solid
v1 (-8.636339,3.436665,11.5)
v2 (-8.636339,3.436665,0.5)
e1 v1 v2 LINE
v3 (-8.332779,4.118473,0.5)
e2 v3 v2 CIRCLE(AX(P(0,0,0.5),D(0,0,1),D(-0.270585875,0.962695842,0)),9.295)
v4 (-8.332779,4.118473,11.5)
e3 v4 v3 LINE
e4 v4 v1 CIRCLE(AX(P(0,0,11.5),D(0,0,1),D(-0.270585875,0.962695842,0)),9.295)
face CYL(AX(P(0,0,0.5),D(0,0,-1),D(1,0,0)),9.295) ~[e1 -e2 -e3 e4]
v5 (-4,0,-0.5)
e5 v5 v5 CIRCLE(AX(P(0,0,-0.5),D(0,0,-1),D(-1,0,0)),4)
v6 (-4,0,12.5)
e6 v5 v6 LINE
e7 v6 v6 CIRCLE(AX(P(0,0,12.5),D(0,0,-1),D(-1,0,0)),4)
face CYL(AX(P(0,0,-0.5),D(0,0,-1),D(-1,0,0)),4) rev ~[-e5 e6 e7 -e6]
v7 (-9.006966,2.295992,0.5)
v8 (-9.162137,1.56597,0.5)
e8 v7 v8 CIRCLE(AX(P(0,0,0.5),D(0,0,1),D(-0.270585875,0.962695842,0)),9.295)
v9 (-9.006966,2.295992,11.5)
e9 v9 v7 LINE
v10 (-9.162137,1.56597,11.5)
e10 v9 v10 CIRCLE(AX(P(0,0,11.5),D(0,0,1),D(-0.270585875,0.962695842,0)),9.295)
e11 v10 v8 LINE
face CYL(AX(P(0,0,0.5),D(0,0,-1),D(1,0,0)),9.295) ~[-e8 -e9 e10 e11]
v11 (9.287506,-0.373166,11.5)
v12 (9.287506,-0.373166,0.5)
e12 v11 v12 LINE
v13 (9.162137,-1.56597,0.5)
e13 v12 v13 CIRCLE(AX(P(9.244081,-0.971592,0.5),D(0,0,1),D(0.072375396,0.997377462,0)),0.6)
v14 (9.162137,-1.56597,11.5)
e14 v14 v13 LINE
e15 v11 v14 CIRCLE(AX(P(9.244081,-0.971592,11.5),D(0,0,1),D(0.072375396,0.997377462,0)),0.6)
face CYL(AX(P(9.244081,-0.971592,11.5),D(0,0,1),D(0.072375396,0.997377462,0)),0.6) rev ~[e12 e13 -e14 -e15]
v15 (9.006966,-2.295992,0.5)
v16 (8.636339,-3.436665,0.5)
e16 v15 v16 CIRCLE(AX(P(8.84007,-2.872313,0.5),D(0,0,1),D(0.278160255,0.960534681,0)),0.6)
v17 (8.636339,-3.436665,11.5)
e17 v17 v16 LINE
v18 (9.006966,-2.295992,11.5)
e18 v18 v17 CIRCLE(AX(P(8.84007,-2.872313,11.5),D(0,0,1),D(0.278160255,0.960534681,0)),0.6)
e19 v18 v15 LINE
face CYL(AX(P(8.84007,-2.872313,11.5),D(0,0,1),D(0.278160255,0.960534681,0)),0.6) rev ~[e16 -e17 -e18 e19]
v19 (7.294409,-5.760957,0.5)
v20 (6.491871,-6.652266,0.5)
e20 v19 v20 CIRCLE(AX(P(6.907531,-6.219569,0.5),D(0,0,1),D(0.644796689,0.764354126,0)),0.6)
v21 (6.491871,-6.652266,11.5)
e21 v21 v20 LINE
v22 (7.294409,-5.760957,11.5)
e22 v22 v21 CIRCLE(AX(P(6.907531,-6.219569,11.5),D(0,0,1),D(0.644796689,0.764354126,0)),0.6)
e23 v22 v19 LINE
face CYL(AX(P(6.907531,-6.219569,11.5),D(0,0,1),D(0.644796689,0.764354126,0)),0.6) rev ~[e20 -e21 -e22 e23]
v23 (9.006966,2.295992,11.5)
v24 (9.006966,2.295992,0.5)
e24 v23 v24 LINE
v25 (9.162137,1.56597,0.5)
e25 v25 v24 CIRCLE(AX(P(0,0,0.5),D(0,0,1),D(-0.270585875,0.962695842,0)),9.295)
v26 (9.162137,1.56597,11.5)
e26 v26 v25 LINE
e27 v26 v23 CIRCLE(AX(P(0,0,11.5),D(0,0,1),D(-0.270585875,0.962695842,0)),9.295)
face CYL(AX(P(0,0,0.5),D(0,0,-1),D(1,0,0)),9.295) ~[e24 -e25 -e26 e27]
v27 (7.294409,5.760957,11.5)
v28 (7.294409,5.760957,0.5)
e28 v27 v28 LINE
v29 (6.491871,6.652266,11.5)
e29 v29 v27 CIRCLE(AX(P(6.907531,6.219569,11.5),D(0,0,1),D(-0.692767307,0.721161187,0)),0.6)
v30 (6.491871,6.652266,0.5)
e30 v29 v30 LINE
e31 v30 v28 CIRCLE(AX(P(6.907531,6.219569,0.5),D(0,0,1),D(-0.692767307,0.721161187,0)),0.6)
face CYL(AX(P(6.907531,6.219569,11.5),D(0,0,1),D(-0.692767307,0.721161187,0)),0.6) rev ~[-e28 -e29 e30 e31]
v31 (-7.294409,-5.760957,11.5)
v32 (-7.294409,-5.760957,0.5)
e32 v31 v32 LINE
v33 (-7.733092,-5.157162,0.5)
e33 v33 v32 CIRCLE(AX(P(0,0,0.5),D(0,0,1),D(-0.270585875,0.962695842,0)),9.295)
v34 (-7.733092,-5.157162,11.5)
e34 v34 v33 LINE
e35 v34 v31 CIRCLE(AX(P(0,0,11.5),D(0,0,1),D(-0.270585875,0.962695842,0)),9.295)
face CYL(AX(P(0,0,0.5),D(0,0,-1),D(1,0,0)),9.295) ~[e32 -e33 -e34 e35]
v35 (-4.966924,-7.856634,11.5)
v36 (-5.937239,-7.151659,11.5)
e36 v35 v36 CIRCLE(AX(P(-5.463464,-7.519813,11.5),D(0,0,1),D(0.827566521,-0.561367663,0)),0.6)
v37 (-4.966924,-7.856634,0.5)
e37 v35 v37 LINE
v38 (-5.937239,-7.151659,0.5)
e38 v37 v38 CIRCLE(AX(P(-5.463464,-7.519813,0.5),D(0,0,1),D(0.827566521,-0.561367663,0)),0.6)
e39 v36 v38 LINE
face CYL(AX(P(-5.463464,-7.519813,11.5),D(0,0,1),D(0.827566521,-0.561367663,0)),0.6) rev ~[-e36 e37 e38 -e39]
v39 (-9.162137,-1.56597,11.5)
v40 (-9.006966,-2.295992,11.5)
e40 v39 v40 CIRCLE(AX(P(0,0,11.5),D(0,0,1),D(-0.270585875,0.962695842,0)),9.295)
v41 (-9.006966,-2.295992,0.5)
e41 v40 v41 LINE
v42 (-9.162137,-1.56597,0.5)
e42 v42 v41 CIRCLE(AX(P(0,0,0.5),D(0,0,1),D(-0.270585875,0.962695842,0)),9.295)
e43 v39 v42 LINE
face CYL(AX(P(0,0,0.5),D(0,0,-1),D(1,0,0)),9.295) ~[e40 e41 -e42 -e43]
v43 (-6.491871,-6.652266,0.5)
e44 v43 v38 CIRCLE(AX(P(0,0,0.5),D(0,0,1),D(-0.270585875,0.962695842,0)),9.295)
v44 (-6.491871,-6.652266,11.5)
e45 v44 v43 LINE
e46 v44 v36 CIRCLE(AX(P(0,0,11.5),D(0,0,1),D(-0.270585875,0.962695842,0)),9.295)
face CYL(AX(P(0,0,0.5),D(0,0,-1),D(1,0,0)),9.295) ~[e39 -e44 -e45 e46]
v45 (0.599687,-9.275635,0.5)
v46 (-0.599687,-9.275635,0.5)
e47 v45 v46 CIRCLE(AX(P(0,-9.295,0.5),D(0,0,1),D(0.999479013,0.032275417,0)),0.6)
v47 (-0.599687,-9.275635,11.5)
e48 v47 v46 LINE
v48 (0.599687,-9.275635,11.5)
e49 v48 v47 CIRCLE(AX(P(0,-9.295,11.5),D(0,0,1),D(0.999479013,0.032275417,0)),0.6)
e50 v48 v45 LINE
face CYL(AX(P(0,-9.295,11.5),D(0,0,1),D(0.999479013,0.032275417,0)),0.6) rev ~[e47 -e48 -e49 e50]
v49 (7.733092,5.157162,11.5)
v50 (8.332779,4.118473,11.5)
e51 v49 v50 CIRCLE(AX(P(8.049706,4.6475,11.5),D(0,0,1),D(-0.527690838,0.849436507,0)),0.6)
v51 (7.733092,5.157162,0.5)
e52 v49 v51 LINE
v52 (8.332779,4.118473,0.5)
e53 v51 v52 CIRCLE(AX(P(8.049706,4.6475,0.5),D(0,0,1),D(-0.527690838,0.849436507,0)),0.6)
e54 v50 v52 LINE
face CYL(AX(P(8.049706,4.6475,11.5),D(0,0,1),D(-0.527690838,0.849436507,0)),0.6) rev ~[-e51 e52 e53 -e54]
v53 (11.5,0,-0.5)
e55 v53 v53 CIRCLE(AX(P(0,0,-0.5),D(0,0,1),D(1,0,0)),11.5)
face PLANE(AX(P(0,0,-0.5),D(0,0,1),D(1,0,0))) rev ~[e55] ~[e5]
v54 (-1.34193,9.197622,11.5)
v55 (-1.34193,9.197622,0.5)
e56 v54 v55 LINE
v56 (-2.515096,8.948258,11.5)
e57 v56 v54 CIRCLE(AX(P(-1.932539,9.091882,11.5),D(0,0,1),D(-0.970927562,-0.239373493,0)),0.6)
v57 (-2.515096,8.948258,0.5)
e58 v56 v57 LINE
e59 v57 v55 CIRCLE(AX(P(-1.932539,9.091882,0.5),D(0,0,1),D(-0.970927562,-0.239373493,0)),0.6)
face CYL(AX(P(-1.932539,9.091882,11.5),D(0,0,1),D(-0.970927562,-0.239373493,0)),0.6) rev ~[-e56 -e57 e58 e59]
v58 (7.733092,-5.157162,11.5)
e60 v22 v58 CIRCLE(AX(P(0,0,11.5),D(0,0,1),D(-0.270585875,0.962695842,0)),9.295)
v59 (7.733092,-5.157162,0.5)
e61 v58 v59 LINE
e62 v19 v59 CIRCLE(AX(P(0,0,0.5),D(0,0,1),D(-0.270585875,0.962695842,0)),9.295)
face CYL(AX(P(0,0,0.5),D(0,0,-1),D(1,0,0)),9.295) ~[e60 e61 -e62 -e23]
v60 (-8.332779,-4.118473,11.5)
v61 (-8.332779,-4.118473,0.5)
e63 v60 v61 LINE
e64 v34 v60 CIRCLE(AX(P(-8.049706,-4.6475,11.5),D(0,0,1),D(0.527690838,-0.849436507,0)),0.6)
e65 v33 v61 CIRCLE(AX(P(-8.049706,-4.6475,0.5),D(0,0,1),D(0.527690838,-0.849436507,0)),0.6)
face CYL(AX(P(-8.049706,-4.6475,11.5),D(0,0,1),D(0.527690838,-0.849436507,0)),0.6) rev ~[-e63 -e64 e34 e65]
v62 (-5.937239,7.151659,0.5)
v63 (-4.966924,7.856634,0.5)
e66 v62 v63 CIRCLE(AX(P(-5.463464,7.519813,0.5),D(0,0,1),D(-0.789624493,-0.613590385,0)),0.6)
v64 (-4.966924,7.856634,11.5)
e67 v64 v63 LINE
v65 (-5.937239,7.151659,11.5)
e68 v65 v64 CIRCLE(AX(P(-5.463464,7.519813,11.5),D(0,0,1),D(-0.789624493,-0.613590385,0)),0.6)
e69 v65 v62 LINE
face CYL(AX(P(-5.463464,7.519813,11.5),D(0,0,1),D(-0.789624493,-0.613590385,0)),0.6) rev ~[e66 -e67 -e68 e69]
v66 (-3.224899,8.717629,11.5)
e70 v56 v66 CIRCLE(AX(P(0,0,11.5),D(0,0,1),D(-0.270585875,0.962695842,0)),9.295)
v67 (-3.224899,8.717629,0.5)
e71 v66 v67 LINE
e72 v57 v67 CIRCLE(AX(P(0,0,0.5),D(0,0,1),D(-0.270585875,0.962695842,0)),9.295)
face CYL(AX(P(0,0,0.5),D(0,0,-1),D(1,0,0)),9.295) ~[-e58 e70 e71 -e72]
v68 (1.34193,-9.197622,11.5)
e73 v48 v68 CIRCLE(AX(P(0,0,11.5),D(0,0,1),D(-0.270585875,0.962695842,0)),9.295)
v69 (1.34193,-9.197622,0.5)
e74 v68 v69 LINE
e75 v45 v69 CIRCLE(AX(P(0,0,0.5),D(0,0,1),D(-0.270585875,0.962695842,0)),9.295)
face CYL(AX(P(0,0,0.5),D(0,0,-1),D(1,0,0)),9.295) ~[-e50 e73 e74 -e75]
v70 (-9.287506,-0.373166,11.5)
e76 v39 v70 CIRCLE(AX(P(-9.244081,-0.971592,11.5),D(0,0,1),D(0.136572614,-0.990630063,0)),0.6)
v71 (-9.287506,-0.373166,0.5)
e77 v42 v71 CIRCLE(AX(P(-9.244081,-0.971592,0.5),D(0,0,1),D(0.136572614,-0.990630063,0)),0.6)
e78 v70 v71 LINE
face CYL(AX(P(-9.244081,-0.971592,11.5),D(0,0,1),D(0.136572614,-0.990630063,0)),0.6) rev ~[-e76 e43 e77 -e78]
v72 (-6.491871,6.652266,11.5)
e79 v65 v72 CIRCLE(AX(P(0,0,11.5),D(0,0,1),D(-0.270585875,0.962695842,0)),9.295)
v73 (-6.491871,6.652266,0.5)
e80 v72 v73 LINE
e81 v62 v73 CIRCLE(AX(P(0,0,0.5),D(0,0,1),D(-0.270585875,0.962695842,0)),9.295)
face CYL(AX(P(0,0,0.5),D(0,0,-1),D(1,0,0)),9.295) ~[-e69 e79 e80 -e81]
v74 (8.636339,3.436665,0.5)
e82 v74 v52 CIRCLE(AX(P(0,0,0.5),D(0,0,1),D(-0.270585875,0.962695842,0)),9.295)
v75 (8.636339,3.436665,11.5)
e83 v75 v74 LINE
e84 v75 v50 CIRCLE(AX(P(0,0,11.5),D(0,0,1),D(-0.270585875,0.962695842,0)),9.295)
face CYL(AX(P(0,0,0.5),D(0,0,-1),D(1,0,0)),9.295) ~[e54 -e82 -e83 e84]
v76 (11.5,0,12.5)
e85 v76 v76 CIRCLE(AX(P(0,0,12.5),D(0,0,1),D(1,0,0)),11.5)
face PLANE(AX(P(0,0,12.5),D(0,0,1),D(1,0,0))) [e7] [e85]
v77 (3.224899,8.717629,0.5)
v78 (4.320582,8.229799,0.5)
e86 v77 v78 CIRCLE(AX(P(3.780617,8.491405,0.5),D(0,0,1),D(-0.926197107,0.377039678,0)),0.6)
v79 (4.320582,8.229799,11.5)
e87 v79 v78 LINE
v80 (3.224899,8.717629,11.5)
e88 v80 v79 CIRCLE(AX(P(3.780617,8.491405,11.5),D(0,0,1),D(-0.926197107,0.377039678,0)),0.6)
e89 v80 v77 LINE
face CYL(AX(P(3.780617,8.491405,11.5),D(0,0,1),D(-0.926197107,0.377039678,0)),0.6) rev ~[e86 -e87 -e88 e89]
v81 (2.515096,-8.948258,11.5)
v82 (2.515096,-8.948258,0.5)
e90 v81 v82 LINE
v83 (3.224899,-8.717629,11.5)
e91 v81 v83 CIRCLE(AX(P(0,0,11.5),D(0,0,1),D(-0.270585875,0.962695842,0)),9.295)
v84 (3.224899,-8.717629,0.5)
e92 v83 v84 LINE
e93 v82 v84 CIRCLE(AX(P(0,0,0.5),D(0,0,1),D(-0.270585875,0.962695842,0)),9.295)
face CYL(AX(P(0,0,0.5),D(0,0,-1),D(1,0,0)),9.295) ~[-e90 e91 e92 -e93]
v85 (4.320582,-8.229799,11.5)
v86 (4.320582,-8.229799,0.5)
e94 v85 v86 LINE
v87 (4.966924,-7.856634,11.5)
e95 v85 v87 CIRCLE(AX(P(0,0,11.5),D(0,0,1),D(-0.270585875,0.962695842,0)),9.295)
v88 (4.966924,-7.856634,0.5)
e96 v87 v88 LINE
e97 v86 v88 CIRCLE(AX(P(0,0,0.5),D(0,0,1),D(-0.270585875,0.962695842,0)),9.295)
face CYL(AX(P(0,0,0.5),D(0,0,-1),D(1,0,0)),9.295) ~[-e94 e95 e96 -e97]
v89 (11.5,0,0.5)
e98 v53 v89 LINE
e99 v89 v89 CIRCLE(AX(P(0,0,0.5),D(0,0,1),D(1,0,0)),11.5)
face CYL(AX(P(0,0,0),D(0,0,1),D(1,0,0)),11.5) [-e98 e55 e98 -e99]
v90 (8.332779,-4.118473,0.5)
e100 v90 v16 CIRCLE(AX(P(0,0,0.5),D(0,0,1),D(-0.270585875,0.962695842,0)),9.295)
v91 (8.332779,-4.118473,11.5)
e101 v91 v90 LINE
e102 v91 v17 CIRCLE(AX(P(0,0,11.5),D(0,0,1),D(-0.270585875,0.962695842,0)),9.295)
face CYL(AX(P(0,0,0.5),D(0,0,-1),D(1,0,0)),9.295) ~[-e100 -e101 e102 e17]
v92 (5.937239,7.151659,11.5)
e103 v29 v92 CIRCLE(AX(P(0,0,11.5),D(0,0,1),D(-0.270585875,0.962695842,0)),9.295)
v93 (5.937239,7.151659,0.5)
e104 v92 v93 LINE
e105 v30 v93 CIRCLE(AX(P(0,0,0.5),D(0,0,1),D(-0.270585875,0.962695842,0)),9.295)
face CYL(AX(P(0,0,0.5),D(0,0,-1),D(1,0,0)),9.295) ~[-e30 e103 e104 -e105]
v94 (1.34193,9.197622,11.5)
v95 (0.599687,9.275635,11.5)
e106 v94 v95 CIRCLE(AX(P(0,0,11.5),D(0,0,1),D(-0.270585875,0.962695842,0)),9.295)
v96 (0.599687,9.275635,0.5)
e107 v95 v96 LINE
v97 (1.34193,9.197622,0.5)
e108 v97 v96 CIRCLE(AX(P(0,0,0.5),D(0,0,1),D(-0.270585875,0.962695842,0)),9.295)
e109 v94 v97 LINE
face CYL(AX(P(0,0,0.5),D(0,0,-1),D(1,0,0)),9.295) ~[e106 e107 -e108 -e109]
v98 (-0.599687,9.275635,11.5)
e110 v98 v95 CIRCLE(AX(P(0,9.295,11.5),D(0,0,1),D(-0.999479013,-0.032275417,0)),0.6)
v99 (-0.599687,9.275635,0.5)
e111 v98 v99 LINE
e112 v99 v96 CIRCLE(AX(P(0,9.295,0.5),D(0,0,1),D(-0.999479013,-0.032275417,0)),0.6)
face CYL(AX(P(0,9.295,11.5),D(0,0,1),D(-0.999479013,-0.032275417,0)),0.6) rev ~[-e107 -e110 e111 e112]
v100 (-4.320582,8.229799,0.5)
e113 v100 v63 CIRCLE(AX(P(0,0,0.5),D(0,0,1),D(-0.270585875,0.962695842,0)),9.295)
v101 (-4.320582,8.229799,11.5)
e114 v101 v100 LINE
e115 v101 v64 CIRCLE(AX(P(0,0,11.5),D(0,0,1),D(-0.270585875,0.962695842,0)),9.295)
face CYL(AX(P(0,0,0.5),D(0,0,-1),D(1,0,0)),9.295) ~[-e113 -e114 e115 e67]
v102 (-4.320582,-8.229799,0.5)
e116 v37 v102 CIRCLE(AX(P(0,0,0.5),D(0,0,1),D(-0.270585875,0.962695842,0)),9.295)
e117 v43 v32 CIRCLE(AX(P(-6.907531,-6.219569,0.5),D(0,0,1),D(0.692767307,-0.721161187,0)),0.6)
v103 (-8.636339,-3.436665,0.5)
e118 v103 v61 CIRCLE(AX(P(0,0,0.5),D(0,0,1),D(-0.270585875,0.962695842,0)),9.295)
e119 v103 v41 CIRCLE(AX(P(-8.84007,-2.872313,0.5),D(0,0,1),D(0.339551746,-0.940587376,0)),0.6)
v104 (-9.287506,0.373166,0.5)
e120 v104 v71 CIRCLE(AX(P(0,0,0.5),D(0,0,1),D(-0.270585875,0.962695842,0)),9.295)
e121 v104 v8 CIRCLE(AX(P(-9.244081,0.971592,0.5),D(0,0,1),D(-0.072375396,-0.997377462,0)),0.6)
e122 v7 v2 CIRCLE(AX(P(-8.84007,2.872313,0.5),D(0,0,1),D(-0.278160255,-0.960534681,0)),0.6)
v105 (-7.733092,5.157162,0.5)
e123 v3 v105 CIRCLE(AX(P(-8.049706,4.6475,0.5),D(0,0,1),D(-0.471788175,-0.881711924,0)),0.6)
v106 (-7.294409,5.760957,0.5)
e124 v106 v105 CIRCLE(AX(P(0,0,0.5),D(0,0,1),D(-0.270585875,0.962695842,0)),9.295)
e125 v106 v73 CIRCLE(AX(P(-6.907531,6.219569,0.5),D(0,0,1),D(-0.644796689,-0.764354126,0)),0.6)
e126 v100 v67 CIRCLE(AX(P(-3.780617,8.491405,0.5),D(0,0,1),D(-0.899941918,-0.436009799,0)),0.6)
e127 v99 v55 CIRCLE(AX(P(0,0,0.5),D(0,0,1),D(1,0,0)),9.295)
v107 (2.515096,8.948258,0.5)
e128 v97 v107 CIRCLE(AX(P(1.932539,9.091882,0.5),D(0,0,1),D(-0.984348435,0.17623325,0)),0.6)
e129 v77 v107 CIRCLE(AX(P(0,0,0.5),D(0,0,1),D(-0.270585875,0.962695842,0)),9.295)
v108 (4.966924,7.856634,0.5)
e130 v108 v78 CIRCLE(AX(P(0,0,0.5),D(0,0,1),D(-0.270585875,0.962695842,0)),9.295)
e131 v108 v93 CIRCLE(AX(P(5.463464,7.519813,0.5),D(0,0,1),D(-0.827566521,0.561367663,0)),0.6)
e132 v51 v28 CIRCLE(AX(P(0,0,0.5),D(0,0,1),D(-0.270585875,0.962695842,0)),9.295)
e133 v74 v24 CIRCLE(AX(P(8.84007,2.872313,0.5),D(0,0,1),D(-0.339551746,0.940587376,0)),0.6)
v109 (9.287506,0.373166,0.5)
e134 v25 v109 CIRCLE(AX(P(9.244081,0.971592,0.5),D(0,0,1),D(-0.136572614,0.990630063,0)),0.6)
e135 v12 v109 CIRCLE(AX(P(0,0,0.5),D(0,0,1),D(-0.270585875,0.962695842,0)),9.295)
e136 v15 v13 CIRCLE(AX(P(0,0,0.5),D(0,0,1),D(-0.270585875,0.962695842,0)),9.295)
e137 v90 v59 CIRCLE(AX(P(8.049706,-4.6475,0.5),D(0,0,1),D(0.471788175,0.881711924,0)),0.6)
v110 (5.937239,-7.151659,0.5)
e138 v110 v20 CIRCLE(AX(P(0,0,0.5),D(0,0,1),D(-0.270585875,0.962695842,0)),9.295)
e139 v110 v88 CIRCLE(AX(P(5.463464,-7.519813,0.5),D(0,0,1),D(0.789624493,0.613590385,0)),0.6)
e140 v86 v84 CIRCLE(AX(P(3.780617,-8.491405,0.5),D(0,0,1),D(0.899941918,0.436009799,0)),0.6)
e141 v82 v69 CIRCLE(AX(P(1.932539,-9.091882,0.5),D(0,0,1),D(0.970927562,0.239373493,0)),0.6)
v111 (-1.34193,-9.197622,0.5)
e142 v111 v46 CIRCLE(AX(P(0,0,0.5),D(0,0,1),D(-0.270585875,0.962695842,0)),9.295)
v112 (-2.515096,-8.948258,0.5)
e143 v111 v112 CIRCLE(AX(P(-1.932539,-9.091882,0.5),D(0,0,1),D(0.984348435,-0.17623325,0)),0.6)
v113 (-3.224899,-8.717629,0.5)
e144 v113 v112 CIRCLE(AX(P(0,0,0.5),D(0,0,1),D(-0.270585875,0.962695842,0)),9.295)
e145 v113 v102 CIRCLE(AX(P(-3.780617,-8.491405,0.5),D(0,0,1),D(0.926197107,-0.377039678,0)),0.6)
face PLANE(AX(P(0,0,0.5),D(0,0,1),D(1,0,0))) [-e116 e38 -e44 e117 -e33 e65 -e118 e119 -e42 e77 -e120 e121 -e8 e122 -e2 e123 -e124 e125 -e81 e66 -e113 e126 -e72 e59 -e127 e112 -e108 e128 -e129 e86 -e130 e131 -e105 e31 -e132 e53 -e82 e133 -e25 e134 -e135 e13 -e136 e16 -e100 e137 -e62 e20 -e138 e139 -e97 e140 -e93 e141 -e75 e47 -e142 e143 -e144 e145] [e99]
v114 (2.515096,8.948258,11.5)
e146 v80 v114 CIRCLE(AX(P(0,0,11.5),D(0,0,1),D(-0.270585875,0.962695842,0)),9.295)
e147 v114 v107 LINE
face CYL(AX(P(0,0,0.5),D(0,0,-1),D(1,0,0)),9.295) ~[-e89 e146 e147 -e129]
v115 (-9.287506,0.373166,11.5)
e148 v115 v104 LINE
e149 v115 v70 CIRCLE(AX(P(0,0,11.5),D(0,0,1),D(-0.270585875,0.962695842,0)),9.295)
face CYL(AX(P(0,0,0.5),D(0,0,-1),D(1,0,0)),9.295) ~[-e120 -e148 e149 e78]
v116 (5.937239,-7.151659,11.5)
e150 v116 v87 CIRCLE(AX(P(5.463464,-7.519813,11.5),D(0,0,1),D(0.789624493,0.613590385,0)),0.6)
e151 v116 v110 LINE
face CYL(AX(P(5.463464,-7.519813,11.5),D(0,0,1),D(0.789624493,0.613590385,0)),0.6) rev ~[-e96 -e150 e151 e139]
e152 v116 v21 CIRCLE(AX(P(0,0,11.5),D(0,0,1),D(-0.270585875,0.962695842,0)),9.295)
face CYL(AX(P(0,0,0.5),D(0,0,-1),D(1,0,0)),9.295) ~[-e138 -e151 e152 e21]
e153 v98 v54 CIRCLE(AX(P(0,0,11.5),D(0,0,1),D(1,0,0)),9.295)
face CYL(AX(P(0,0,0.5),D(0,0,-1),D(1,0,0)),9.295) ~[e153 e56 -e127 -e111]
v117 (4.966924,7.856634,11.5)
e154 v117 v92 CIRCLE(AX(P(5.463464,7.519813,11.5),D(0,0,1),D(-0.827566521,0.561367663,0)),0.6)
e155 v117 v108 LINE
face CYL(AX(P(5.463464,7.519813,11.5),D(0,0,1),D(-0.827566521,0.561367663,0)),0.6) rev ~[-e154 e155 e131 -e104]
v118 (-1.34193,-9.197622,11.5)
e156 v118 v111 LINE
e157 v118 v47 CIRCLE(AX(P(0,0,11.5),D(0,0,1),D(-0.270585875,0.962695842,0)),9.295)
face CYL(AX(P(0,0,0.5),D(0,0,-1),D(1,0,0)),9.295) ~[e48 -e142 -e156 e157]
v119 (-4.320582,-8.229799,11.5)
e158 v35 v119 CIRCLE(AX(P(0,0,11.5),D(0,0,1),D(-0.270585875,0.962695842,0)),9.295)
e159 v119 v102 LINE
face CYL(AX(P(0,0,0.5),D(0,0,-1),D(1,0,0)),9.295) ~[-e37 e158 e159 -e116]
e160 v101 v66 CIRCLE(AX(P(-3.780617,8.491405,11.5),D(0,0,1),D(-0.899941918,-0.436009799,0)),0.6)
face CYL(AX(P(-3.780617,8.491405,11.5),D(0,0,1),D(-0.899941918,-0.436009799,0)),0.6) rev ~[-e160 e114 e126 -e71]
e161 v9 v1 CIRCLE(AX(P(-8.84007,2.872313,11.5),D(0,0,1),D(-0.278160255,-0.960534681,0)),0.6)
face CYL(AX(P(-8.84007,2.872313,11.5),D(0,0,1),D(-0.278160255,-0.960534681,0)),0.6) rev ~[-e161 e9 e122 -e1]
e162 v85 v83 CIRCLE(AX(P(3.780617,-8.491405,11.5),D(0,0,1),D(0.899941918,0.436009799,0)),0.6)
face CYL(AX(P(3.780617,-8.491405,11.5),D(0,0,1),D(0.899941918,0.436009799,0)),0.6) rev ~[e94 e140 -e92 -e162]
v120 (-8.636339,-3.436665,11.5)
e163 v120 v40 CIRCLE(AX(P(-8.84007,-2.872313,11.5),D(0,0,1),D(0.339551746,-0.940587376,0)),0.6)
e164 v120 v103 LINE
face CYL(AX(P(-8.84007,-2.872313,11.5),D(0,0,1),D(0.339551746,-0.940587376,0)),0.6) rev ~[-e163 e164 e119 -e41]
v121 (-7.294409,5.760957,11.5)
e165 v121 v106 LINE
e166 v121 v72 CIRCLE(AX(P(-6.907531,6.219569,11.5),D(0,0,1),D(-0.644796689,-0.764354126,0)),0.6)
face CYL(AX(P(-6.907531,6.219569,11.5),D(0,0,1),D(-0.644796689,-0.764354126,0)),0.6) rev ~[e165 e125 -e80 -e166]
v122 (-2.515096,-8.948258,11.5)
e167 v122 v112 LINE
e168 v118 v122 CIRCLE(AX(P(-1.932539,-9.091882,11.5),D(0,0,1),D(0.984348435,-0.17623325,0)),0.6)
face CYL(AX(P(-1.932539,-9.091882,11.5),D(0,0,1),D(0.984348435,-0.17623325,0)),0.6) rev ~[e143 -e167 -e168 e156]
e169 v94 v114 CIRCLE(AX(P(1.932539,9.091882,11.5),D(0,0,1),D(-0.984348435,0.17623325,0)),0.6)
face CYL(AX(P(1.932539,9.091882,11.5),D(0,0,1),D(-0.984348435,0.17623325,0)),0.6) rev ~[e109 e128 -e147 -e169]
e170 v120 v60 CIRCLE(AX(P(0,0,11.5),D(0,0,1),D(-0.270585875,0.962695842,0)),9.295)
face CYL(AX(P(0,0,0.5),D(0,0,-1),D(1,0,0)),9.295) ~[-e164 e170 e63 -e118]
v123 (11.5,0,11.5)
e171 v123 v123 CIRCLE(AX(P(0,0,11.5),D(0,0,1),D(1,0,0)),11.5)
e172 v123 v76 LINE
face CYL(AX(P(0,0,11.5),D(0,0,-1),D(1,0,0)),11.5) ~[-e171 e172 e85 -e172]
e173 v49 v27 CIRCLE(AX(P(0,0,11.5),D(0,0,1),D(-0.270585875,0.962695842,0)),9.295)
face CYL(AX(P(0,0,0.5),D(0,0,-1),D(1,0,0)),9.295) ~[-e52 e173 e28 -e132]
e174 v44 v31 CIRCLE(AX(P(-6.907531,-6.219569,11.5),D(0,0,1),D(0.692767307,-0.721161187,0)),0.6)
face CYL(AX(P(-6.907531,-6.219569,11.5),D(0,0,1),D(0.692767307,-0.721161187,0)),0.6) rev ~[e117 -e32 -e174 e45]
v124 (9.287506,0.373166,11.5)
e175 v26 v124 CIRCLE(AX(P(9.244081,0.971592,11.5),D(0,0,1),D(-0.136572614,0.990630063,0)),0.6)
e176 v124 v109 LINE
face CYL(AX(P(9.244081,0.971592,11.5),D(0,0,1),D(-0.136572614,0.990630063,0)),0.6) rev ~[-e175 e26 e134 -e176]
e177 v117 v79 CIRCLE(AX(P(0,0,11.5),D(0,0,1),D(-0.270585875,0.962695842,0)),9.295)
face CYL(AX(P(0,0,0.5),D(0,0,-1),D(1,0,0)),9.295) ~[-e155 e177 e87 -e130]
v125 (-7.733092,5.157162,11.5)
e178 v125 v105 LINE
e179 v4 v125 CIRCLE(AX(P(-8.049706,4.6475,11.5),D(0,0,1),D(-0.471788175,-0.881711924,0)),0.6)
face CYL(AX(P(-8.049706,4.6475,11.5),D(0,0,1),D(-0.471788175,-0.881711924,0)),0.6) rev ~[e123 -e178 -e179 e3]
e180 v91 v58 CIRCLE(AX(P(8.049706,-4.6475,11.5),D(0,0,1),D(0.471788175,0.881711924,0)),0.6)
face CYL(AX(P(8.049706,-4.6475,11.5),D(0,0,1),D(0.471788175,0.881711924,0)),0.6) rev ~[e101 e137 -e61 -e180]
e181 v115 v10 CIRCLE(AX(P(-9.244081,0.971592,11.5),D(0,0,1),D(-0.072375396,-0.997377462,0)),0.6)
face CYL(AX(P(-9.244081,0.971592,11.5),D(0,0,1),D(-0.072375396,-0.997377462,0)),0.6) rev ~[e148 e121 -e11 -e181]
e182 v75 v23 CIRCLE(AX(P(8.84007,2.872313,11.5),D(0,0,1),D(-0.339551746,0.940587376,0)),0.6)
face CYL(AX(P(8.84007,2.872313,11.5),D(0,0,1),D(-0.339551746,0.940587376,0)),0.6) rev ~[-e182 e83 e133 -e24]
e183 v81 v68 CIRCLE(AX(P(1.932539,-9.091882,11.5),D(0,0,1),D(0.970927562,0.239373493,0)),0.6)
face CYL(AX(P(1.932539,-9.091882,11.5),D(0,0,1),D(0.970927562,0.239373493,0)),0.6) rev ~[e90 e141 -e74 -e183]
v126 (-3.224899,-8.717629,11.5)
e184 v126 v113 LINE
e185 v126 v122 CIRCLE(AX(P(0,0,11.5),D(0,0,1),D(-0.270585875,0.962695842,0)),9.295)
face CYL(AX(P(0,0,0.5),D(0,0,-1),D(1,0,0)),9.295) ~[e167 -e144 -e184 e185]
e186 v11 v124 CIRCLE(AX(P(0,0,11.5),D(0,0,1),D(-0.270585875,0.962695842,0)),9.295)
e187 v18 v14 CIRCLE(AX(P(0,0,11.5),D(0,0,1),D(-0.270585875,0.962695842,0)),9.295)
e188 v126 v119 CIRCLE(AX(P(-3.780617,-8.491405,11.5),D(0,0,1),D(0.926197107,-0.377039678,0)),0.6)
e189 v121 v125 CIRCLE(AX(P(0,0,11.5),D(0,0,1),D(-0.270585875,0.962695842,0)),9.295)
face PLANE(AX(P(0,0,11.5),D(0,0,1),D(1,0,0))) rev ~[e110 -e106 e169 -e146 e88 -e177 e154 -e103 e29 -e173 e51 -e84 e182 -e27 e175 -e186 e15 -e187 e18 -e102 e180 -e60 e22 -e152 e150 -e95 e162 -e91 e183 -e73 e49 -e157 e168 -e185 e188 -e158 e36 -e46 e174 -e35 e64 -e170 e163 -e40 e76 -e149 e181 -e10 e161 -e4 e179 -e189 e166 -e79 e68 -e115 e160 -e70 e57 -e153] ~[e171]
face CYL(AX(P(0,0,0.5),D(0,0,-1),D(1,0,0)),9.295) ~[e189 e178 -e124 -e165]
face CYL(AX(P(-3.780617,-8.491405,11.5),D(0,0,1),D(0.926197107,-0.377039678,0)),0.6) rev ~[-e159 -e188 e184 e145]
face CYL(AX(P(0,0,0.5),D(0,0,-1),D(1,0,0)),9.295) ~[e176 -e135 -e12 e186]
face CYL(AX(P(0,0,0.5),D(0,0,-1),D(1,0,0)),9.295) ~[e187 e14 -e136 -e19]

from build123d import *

# Parameters (mm, degrees)
SKETCH_1_R               = 11.5
EXTRUDE_1_DEPTH          = 0.5
SKETCH_2_R               = 9.295
EXTRUDE_2_DEPTH          = 11
CUT_EXTRUDE_3_DEPTH      = 11
SKETCH_3_R               = 11.5
EXTRUDE_3_DEPTH          = 1
SKETCH_6_R               = 4
CUT_EXTRUDE_2_DEPTH      = 1
CUT_EXTRUDE_2_DEPTH_BACK = 14
PATTERN_CIRCULAR_2_COUNT = 30


with BuildPart() as part:
    # 草圖1 → 填料-伸長1 (new body, symmetric)
    with BuildSketch(Plane.XY):
        Circle(SKETCH_1_R)
    extrude(amount=EXTRUDE_1_DEPTH, both=True)

    # 草圖2 → 填料-伸長2 (add)
    with BuildSketch(Plane.XY.offset(0.5)):
        Circle(SKETCH_2_R)
    extrude(amount=EXTRUDE_2_DEPTH)

    # 草圖7 → 除料-伸長3 (cut)
    with BuildSketch(Plane.XY.offset(11.5)):
        with BuildLine():
            ThreePointArc((-0.599687408, 9.27563475), (0, 8.695), (0.599687408, 9.27563475))
            ThreePointArc((0.599687408, 9.27563475), (0, 9.295), (-0.599687408, 9.27563475))
        make_face()
    cut_extrude_3 = extrude(amount=-CUT_EXTRUDE_3_DEPTH, mode=Mode.SUBTRACT)

    # 草圖3 → 填料-伸長3 (add)
    with BuildSketch(Plane.XY.offset(11.5)):
        Circle(SKETCH_3_R)
    extrude(amount=EXTRUDE_3_DEPTH)

    # 草圖6 → 除料-伸長2 (cut, two sides)
    with BuildSketch(Plane(origin=(0, 0, -0.5), x_dir=(-1, 0, 0), z_dir=(0, 0, -1))) as cut_extrude_2_sk:
        Circle(SKETCH_6_R)
    extrude(amount=CUT_EXTRUDE_2_DEPTH, mode=Mode.SUBTRACT)
    extrude(cut_extrude_2_sk.sketch, amount=-CUT_EXTRUDE_2_DEPTH_BACK, mode=Mode.SUBTRACT)

    # 環狀複製排列2: 除料-伸長3 ×30 about axis
    pattern_circular_2_axis = Axis((0, 0, 0), (0, 0, 1))
    for i in range(1, PATTERN_CIRCULAR_2_COUNT):
        add(cut_extrude_3.rotate(pattern_circular_2_axis, i * 360 / PATTERN_CIRCULAR_2_COUNT), mode=Mode.SUBTRACT)


solid = part.part
